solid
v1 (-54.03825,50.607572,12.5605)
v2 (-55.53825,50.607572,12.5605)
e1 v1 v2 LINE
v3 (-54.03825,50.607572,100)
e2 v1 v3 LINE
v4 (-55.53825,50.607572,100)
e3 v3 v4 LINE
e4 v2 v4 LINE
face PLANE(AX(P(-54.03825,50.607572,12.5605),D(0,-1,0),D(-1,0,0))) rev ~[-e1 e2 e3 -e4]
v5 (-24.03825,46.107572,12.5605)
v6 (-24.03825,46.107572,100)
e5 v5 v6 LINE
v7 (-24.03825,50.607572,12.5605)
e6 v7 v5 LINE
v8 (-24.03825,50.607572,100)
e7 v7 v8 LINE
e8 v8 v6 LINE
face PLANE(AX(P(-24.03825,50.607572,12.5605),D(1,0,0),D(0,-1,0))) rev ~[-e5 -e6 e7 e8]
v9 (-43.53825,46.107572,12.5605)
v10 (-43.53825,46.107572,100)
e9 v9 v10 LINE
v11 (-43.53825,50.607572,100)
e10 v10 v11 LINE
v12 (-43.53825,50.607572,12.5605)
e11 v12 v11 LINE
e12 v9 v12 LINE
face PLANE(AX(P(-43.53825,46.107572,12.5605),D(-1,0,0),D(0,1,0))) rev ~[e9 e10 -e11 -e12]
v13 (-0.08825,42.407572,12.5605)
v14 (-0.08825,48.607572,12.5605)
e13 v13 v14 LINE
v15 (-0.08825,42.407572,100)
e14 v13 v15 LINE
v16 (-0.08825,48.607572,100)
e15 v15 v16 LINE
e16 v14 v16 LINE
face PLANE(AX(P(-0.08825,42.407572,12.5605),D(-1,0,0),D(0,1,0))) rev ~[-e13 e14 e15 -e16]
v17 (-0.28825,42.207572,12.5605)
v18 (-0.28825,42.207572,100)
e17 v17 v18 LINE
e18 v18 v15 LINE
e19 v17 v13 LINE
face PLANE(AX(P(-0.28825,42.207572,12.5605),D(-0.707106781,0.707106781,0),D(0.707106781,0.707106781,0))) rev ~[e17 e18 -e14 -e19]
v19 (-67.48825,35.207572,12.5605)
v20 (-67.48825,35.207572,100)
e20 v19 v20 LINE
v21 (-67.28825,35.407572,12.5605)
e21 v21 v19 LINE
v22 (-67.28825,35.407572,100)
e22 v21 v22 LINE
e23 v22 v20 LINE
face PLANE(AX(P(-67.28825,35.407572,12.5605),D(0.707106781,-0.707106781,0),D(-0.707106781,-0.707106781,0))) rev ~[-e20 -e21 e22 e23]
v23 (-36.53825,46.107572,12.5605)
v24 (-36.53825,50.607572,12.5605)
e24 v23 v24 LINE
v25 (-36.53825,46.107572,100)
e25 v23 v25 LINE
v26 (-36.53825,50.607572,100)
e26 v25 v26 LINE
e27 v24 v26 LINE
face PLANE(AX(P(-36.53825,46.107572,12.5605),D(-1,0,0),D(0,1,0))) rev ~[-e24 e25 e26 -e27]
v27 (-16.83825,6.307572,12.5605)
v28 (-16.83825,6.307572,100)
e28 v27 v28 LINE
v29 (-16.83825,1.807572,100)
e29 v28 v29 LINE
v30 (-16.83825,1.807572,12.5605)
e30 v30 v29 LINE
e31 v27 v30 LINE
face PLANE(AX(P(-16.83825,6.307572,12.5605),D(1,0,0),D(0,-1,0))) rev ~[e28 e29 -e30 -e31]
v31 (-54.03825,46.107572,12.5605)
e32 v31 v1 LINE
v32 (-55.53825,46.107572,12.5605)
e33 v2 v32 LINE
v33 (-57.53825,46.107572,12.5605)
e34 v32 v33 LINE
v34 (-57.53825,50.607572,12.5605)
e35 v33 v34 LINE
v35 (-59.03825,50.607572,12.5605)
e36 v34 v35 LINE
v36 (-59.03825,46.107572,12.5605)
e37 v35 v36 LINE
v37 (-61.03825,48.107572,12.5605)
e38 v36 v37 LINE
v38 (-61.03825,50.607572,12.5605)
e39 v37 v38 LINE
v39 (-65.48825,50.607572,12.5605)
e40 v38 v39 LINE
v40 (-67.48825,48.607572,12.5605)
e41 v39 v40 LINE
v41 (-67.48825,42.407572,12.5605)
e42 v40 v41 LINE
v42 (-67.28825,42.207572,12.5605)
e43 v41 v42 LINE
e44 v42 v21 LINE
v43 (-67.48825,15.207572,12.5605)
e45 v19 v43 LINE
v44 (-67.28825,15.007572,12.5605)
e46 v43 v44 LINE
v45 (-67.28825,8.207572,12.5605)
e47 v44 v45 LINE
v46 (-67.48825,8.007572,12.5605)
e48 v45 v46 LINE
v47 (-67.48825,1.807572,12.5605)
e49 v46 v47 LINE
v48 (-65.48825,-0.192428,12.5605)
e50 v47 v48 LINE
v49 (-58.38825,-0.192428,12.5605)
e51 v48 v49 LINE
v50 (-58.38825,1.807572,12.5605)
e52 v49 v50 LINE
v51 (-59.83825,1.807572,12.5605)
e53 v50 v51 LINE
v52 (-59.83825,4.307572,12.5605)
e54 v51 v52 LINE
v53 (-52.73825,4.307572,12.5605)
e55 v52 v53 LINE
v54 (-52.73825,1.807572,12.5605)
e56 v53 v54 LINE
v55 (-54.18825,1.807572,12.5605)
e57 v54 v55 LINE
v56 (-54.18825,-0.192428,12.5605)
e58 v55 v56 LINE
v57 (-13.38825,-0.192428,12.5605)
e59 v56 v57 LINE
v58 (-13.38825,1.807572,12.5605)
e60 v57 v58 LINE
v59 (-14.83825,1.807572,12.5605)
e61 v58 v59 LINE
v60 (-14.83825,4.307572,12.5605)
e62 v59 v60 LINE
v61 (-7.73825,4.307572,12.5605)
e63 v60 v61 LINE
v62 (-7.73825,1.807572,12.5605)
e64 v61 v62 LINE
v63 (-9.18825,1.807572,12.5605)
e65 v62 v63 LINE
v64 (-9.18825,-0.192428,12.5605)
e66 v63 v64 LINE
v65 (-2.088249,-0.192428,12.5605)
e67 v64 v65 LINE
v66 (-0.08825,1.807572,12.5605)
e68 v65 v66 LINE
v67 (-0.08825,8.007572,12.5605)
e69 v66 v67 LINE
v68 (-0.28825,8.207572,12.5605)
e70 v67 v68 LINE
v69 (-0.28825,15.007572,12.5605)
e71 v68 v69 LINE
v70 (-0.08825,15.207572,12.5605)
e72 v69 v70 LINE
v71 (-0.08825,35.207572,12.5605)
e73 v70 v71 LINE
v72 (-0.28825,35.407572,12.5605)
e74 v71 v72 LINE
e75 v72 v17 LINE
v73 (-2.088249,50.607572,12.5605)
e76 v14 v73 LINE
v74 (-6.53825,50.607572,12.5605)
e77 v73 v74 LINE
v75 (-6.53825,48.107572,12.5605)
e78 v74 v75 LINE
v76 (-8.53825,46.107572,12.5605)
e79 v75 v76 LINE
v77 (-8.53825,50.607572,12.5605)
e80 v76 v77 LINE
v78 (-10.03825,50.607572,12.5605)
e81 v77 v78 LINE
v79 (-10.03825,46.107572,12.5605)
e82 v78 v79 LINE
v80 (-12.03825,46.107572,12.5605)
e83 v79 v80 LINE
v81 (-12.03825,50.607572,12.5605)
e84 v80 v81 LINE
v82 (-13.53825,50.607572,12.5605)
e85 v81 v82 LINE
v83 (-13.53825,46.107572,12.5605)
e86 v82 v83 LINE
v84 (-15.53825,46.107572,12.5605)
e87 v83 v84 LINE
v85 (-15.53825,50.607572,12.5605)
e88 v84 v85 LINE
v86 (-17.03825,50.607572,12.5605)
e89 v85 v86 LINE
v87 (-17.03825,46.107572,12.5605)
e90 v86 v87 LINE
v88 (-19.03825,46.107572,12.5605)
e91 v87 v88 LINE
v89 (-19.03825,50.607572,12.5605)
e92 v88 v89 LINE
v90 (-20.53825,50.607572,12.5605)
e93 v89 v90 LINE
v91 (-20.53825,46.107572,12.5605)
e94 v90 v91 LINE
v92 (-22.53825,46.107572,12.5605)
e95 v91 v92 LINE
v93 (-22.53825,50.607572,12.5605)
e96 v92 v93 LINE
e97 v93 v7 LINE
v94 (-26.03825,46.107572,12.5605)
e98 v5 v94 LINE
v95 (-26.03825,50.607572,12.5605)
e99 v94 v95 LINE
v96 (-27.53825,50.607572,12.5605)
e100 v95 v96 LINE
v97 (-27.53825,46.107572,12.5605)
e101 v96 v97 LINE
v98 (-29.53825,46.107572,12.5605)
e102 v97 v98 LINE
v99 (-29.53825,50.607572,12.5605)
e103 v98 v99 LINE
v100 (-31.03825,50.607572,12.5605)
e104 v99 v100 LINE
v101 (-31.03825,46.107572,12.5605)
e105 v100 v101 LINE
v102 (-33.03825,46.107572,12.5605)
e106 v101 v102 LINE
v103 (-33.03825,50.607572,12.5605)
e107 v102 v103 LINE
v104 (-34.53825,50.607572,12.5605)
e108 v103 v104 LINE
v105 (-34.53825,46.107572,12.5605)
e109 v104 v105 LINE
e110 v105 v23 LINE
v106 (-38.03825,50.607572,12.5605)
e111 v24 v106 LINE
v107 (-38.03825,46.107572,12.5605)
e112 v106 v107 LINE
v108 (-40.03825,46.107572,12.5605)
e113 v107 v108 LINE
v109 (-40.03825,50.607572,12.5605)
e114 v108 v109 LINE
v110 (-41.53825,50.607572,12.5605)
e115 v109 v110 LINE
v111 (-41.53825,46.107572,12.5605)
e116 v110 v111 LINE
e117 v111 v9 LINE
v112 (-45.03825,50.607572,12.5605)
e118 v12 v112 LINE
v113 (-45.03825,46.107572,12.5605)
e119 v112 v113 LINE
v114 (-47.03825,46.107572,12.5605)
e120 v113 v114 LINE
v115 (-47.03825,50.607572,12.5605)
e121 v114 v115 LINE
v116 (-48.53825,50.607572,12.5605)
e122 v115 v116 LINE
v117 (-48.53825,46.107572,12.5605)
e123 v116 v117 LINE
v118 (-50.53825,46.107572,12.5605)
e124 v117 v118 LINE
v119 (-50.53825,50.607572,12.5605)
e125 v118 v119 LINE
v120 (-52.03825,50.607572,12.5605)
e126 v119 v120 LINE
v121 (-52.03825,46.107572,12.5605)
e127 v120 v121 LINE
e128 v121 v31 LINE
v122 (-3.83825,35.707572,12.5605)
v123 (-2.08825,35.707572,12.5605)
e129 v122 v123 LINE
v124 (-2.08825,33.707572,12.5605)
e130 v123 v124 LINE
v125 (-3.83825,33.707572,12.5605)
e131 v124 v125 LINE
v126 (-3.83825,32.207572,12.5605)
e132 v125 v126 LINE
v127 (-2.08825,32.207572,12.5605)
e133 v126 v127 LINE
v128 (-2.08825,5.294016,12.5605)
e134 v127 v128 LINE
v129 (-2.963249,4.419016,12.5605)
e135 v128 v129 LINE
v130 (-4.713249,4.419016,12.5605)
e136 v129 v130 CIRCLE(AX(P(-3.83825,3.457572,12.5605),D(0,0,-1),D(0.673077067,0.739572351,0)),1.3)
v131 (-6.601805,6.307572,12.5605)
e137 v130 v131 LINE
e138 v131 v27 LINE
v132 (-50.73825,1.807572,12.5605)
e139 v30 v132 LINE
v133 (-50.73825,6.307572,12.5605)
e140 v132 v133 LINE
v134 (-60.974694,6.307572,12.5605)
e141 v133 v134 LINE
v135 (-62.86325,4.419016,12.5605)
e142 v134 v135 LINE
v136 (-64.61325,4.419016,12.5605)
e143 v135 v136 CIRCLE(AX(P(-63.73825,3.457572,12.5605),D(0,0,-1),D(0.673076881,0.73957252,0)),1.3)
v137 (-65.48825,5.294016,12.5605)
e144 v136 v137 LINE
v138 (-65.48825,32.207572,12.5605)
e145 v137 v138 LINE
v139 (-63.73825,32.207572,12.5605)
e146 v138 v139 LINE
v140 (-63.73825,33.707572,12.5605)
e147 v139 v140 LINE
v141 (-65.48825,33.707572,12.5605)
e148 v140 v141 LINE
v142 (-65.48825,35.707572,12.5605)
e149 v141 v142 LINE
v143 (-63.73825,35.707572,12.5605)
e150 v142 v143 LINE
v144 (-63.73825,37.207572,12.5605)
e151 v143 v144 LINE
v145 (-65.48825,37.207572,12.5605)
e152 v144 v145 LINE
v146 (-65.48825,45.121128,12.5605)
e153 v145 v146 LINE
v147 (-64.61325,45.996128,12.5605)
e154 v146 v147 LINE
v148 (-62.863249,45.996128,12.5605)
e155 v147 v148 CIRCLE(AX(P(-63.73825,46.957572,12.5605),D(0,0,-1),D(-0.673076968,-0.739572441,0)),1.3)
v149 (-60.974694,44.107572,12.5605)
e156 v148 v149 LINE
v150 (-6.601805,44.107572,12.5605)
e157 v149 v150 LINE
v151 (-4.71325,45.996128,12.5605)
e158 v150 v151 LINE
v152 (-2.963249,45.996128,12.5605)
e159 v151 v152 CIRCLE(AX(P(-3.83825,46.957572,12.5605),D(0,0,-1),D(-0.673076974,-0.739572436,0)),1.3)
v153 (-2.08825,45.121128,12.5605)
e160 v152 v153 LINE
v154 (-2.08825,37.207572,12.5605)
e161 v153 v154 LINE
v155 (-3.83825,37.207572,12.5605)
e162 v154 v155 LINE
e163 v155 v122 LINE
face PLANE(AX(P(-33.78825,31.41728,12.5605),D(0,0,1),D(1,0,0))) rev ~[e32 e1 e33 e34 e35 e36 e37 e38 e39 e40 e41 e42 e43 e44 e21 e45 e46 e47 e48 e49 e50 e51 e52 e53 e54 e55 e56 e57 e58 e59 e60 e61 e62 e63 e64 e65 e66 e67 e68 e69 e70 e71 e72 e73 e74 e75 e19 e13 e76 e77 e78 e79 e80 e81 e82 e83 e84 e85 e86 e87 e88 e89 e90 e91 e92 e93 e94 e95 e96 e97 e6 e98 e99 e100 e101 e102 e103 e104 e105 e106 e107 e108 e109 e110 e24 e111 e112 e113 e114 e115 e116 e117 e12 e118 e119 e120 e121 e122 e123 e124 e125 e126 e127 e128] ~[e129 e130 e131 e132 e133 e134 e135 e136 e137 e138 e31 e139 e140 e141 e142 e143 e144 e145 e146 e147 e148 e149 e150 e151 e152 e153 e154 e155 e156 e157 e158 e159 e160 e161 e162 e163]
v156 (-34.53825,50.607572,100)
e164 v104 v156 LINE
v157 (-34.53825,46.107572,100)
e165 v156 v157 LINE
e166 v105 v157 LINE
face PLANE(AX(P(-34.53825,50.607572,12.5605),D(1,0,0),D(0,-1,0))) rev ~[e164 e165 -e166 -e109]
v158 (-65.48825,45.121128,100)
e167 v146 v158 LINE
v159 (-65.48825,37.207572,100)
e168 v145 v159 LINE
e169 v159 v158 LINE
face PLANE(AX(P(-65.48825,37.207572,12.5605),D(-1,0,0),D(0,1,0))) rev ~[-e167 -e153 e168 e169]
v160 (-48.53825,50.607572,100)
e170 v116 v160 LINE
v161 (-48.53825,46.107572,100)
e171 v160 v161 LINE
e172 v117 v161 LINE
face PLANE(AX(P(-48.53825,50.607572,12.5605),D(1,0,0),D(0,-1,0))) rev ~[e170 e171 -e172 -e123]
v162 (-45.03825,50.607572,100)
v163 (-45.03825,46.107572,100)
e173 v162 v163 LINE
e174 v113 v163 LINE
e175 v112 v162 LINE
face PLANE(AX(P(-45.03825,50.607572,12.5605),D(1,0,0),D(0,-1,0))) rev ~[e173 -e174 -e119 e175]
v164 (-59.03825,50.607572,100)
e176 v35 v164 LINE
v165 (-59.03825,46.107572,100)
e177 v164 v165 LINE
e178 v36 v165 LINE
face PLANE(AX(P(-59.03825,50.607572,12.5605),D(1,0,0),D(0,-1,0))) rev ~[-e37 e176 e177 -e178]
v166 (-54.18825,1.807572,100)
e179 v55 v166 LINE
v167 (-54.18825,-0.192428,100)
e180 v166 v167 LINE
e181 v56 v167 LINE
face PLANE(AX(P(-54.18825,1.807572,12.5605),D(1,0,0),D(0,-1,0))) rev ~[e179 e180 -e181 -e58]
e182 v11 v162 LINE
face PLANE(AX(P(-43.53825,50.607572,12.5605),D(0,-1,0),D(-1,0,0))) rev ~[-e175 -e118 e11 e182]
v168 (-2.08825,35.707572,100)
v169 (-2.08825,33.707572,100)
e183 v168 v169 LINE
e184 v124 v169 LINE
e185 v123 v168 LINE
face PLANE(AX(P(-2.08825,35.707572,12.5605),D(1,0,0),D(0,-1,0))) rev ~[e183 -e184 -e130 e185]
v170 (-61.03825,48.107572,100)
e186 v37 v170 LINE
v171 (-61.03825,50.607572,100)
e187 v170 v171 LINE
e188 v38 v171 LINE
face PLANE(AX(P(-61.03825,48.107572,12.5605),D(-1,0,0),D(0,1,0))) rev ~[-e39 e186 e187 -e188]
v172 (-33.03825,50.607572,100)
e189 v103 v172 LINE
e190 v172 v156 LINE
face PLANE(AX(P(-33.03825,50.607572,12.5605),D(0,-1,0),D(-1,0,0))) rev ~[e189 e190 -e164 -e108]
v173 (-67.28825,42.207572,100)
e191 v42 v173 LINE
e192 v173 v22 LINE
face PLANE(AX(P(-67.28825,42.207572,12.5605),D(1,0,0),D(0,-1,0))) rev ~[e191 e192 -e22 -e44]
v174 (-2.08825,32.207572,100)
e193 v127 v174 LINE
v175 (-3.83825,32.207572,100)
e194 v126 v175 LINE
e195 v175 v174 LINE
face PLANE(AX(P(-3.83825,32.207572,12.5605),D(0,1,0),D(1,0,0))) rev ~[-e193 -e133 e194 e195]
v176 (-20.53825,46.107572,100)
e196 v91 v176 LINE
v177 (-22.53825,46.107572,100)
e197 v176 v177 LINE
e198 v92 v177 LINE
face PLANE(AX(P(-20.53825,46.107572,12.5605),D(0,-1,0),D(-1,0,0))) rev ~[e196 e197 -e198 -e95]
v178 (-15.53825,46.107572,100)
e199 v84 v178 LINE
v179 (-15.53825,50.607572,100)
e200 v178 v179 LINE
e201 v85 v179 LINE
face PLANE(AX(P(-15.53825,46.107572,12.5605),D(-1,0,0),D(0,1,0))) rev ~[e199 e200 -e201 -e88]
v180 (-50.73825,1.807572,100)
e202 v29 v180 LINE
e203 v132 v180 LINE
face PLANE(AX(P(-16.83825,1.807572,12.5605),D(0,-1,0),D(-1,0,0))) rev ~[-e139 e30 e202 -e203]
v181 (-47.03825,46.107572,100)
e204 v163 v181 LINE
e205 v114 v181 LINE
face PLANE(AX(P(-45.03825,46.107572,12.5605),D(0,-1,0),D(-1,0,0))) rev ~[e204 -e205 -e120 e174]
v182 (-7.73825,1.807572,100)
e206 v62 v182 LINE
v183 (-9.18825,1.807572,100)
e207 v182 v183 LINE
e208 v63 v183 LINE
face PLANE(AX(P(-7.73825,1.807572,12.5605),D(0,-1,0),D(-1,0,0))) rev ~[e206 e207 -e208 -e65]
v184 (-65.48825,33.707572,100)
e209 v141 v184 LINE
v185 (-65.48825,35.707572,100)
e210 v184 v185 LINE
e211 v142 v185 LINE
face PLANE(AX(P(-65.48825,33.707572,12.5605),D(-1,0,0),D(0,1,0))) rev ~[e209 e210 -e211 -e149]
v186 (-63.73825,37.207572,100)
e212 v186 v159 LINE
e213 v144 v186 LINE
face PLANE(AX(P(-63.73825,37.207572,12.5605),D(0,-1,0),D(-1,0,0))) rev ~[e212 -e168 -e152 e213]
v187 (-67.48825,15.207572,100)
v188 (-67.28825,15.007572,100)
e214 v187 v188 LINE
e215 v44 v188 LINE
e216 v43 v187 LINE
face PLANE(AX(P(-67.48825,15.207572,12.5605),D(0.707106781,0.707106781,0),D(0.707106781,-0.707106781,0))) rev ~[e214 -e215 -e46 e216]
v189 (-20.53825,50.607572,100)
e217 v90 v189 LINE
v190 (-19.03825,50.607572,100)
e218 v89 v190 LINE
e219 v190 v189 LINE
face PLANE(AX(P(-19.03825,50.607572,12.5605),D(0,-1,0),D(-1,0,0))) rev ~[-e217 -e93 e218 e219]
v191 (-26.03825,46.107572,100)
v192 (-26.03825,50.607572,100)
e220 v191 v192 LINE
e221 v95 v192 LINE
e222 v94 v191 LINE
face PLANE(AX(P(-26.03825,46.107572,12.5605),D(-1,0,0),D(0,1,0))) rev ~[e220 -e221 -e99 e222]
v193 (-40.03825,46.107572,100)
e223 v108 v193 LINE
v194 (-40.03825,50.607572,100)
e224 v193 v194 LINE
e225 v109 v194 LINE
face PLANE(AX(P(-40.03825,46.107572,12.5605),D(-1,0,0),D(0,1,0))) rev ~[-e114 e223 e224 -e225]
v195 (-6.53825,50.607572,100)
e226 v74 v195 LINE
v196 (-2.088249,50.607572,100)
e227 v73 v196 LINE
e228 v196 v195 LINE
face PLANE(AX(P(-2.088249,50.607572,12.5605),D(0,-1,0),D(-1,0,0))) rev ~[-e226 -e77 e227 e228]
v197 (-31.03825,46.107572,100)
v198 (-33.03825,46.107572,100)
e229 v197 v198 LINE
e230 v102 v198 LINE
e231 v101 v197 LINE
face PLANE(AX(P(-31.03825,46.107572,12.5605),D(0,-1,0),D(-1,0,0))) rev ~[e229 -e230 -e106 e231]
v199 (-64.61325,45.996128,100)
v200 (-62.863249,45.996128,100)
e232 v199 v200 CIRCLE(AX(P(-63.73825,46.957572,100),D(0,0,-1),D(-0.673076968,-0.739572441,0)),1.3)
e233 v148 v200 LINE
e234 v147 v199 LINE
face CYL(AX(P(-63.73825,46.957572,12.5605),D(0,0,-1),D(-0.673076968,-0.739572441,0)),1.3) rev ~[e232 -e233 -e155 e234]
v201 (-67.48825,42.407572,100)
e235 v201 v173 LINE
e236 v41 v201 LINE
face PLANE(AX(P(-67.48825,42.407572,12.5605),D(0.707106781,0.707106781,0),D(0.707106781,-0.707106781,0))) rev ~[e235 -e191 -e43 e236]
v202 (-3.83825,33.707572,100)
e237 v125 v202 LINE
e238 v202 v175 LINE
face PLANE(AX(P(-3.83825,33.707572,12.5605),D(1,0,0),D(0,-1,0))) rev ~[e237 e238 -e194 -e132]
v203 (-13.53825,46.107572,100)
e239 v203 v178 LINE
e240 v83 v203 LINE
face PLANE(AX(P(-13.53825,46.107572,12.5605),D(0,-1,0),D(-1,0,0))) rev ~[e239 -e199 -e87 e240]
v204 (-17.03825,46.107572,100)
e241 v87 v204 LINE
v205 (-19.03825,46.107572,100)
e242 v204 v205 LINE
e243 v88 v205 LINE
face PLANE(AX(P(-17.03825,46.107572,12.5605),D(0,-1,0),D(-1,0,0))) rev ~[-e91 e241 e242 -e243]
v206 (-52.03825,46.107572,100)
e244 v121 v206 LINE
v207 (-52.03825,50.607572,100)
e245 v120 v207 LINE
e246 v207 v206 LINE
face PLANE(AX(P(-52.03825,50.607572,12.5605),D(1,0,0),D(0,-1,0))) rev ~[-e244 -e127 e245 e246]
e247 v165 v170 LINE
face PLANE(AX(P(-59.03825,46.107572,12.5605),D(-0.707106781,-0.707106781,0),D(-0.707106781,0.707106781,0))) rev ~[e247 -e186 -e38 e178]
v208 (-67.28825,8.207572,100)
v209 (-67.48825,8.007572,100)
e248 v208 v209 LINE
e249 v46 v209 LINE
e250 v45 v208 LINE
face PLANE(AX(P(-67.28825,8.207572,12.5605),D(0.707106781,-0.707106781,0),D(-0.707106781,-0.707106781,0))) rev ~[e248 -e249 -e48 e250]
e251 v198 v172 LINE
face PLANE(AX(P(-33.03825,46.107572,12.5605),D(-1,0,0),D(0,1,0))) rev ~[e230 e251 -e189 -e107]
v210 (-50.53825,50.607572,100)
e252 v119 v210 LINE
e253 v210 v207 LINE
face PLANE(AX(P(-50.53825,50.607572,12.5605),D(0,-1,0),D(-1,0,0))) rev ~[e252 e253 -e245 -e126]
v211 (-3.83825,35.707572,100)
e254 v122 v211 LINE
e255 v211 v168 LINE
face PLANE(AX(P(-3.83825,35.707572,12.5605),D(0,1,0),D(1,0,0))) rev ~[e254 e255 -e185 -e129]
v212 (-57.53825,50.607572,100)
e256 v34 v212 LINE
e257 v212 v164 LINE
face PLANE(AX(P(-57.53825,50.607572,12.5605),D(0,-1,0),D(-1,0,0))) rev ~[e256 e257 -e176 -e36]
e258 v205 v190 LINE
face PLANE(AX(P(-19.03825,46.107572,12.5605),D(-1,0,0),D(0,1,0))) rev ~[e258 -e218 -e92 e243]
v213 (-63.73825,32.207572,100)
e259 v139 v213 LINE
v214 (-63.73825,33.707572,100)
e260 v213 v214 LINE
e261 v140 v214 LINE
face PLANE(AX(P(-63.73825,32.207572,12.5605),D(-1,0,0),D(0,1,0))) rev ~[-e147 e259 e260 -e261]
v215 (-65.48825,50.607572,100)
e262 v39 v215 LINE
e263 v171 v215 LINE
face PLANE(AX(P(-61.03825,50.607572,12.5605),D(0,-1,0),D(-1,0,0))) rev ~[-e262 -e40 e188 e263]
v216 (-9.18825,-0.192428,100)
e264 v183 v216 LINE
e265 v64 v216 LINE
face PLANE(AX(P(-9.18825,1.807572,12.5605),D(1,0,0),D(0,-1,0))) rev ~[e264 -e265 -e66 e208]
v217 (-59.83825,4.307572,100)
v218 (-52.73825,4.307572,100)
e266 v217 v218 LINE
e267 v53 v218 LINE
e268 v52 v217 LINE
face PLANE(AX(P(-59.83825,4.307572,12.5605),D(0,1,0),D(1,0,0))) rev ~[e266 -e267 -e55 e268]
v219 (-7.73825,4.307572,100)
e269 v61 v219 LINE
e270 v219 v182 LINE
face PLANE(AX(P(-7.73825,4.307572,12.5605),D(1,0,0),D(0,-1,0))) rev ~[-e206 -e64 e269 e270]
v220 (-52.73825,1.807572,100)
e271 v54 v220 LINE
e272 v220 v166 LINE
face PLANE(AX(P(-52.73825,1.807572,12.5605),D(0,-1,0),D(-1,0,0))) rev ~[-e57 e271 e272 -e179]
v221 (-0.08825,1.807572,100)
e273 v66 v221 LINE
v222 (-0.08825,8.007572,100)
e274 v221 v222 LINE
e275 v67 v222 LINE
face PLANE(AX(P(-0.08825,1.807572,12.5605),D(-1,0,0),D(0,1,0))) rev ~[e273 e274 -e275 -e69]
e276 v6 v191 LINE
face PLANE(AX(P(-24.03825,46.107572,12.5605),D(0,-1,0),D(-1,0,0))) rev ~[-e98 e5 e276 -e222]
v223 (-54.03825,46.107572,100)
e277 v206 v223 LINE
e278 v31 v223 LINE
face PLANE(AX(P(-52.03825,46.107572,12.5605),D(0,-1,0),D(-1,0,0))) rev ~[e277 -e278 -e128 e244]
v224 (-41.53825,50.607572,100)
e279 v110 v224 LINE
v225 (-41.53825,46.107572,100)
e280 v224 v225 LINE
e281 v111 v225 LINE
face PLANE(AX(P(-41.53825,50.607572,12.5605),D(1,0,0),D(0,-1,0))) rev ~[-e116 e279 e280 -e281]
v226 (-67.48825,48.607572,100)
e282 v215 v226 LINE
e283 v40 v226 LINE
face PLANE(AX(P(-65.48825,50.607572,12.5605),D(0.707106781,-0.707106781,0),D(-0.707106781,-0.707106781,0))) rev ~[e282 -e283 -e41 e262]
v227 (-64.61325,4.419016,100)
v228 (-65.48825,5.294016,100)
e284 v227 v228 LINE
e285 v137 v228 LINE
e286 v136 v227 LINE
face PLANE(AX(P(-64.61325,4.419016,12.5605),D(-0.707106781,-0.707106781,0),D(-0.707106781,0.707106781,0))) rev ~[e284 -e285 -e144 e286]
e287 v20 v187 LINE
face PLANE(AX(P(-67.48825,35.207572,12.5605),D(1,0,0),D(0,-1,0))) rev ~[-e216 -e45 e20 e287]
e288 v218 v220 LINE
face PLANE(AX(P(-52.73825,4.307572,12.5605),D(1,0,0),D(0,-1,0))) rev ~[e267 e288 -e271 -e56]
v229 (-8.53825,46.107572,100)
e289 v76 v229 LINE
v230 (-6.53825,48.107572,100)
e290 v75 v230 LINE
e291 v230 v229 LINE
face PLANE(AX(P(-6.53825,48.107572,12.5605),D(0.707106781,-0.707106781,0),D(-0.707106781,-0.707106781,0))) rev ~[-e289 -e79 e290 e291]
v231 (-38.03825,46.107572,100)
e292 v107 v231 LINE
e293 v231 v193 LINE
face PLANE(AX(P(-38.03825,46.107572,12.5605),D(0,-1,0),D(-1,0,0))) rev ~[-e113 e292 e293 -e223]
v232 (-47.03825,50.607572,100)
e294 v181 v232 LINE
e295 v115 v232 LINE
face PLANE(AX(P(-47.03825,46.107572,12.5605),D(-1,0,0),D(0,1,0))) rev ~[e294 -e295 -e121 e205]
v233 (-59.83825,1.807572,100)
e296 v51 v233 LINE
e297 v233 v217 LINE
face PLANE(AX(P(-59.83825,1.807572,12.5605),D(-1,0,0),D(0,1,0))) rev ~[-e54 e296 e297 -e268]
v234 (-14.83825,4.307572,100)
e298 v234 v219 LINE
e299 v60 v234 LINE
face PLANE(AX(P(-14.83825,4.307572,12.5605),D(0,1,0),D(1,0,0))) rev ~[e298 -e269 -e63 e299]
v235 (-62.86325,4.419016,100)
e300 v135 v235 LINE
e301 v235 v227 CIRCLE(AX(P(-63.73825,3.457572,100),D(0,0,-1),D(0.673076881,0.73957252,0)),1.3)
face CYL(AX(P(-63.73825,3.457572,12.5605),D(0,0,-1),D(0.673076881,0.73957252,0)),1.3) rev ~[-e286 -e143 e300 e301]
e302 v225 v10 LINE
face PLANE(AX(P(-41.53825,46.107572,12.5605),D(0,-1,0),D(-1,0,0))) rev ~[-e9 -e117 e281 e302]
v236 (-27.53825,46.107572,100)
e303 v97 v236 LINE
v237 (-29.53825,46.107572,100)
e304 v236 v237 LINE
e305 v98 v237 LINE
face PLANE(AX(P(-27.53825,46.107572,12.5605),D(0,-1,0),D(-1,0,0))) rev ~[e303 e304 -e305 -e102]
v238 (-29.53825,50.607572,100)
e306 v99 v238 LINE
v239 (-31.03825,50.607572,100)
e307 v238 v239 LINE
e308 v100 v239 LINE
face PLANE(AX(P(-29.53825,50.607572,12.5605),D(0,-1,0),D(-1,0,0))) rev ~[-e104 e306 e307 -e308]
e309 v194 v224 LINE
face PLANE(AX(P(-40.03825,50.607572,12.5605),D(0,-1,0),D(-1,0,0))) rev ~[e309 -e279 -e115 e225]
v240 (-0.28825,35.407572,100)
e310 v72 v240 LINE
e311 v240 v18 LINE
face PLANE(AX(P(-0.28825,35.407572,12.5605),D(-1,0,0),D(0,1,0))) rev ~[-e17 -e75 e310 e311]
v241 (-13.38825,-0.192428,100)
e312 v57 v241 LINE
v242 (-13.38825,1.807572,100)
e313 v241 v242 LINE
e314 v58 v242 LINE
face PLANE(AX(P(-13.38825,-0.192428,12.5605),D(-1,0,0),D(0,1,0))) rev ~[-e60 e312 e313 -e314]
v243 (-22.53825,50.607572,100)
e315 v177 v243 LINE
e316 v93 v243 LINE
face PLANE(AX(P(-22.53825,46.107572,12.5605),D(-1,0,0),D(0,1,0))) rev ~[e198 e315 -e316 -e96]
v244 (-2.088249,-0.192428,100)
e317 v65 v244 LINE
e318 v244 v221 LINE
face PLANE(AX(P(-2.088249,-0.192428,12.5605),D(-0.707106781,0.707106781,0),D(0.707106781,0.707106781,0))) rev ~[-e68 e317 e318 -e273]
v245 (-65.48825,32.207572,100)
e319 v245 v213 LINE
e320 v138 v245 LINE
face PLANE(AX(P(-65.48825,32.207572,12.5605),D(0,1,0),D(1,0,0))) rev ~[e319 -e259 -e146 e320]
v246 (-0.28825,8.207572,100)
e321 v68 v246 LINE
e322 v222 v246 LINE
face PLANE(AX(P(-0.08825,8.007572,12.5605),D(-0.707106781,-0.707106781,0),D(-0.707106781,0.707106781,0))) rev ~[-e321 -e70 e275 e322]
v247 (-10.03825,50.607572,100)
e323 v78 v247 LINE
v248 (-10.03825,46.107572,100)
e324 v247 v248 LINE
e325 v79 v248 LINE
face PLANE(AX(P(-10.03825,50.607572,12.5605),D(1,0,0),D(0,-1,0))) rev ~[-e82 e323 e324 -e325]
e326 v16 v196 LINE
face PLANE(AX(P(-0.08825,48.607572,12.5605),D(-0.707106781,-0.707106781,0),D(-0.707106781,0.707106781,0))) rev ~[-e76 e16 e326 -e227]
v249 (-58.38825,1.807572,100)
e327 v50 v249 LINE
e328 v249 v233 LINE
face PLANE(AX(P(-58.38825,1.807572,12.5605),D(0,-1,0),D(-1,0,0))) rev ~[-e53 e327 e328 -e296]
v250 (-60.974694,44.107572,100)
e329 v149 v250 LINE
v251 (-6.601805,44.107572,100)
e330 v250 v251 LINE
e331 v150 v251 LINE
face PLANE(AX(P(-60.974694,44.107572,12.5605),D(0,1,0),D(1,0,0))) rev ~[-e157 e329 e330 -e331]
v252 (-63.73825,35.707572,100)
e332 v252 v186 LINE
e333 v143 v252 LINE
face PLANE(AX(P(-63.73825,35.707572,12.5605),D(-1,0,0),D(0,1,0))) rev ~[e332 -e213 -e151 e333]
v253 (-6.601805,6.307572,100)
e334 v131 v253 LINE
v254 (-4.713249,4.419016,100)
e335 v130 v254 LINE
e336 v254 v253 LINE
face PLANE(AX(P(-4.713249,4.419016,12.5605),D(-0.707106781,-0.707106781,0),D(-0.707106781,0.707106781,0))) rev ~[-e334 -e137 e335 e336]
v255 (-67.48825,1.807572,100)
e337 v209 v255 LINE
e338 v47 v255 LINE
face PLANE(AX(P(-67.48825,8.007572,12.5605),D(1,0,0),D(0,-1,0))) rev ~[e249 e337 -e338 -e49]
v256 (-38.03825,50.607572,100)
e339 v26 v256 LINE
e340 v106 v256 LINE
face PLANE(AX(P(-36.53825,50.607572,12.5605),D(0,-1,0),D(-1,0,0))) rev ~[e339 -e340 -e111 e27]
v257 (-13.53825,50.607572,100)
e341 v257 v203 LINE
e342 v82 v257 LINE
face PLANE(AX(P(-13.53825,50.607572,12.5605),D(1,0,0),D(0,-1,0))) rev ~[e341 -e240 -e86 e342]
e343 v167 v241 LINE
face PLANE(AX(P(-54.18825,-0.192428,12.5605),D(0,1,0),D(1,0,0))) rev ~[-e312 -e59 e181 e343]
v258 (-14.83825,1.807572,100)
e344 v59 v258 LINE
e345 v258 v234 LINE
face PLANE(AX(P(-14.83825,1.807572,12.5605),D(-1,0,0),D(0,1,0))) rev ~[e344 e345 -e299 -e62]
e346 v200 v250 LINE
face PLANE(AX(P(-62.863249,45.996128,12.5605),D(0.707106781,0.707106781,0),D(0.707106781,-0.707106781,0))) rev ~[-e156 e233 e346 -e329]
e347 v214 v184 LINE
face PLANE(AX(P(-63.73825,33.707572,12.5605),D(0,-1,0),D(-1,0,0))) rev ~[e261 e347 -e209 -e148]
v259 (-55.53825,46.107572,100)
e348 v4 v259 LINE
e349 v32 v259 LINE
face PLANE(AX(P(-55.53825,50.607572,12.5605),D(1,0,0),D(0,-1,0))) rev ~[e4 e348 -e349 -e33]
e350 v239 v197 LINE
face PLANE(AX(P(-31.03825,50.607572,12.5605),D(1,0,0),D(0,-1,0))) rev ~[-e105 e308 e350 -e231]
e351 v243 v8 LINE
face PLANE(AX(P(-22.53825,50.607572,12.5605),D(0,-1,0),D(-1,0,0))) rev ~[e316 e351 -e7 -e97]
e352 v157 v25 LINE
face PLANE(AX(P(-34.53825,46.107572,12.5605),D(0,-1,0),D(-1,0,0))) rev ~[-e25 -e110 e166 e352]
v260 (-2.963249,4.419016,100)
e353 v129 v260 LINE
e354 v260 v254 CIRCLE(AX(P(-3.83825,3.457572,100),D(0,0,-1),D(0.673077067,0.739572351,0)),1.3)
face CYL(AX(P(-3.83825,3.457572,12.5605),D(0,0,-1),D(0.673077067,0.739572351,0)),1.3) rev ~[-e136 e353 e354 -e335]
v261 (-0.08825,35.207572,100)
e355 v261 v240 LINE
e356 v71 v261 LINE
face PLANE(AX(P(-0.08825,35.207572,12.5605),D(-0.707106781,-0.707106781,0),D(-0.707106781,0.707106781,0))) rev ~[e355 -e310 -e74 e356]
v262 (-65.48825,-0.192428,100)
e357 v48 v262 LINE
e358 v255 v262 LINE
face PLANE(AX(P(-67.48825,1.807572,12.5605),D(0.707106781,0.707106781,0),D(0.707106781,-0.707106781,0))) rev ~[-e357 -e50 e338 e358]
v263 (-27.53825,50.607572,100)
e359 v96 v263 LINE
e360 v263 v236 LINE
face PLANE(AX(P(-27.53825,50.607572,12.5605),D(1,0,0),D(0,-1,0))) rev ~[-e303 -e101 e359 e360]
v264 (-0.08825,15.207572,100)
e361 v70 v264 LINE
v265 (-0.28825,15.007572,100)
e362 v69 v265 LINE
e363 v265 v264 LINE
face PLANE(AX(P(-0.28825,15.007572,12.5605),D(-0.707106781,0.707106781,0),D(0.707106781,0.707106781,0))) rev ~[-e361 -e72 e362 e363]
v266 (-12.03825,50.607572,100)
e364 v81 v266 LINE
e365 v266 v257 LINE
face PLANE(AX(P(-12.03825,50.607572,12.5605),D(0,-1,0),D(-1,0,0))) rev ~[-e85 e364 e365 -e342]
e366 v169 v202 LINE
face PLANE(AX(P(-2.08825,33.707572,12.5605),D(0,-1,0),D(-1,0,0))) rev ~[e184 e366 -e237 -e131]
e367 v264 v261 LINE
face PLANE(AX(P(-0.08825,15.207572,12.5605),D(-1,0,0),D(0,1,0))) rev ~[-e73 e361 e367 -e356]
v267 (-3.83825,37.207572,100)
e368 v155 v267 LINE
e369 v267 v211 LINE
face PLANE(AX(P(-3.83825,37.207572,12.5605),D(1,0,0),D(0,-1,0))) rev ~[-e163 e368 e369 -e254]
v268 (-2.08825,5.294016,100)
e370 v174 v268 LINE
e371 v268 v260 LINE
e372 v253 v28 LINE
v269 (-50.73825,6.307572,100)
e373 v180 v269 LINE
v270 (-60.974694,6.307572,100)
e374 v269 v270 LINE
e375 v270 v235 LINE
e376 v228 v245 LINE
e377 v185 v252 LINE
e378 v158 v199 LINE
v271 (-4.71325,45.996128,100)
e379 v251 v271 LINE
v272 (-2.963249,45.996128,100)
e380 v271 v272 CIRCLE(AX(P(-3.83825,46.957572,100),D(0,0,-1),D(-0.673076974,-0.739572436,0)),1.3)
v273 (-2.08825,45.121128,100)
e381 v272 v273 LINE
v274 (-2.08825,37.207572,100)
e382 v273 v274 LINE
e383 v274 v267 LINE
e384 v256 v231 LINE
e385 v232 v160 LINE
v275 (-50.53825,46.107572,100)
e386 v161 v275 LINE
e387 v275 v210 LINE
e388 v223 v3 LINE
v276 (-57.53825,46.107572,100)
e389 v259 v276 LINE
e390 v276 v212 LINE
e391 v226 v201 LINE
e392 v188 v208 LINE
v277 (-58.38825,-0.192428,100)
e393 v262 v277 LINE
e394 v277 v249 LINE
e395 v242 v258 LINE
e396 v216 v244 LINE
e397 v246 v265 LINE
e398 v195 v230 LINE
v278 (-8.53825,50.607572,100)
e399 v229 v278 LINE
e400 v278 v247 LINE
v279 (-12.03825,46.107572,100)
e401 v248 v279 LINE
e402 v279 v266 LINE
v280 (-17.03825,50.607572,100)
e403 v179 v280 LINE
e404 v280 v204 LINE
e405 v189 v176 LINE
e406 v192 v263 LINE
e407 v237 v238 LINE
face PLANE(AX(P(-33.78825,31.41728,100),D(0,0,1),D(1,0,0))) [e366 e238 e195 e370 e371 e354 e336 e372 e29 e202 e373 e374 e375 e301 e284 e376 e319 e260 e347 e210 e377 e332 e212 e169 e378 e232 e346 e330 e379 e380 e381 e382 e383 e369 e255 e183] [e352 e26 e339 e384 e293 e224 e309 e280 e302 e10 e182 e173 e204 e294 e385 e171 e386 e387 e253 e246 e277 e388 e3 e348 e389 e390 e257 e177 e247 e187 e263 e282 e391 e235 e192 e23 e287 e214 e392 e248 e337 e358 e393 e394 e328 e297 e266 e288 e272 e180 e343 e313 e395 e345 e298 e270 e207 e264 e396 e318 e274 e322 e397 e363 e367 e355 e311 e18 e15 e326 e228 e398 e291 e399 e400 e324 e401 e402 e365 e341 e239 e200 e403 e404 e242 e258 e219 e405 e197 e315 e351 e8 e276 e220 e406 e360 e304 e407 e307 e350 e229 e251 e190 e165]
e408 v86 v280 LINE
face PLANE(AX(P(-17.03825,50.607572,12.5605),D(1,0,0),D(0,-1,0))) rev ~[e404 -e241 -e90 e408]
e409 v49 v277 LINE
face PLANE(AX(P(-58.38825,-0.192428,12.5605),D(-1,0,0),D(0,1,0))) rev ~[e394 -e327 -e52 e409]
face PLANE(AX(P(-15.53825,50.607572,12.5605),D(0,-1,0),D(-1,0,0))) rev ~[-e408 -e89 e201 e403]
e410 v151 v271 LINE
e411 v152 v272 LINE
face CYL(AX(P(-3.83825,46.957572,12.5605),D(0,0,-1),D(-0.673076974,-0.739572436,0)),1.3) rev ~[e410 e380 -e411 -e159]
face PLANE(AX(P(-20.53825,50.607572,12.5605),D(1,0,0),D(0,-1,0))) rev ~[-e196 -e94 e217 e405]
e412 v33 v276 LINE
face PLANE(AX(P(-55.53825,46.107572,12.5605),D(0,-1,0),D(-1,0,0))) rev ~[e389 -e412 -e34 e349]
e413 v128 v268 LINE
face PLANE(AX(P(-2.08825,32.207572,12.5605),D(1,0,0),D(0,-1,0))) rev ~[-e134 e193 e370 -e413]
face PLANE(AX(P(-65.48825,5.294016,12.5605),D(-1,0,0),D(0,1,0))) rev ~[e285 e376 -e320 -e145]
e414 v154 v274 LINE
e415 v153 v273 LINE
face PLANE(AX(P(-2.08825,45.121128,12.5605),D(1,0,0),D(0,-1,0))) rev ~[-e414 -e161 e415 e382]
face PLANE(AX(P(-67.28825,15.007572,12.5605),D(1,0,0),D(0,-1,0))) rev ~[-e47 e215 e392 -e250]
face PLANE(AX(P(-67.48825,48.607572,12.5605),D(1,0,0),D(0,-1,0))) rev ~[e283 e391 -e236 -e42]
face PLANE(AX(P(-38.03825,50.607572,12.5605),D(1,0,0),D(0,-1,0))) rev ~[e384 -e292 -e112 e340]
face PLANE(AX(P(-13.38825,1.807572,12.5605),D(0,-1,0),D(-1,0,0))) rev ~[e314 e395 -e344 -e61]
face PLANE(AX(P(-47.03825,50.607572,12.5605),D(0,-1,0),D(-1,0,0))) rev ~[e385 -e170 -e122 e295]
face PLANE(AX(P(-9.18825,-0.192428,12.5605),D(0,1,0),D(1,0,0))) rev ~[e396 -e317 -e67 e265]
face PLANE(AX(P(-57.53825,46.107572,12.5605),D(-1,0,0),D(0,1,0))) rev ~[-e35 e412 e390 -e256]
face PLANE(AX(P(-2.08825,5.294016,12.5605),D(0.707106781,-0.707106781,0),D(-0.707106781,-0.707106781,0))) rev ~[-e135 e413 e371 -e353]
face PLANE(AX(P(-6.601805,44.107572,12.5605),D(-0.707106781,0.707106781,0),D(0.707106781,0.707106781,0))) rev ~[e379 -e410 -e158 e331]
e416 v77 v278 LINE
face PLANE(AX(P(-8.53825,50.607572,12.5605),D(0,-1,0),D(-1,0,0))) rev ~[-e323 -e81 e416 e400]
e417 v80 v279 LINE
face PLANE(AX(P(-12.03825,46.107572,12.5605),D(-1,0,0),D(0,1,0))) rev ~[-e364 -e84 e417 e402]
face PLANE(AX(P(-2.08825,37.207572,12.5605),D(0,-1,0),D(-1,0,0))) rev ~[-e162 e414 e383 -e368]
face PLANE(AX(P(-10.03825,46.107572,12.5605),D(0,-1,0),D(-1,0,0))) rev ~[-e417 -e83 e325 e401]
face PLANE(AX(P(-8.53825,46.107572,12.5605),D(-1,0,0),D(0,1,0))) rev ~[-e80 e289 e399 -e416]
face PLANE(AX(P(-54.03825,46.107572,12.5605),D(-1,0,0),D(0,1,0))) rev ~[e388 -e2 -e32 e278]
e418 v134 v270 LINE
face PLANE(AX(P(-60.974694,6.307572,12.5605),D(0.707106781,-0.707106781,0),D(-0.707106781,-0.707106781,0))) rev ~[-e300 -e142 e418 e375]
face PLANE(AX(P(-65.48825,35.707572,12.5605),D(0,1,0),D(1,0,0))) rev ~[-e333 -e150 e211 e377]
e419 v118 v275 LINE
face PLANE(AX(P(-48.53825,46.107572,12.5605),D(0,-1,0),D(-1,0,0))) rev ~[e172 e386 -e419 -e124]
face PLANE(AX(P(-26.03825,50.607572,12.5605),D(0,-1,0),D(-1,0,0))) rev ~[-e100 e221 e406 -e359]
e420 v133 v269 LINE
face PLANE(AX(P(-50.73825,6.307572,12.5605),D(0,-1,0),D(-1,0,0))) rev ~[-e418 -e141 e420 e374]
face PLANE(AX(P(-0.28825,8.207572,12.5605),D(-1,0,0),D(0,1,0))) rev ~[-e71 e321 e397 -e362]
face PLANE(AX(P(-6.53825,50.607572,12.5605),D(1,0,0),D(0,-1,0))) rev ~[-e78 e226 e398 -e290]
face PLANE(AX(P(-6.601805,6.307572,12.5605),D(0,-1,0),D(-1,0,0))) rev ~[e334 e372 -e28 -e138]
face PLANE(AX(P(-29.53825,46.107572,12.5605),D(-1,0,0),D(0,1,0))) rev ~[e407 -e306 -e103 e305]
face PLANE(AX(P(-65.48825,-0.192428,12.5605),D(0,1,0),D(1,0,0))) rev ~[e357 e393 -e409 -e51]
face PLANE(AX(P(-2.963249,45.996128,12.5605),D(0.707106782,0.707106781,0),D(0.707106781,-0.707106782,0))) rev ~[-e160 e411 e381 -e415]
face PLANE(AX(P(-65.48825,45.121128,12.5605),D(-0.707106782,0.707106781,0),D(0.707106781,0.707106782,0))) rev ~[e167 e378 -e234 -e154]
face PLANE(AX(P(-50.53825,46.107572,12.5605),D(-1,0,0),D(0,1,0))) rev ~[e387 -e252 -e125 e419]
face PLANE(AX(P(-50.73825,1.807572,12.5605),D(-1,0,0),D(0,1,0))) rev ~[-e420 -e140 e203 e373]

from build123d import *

# Parameters (mm, degrees)
BOSS_EXTRUDE1_DEPTH = 87.4395


with BuildPart() as part:
    # Sketch1 → Boss-Extrude1 (new body)
    with BuildSketch(Plane.XY.offset(12.5605)):
        Polygon((-54.188249545, 1.80757214), (-54.188249545, -0.19242786), (-13.388249545, -0.19242786), (-13.388249545, 1.80757214), (-14.838249545, 1.80757214), (-14.838249545, 4.30757214), (-7.738249545, 4.30757214), (-7.738249545, 1.80757214), (-9.188249545, 1.80757214), (-9.188249545, -0.19242786), (-2.088249216, -0.19242786), (-0.088249545, 1.807571812), (-0.088249545, 8.007572024), (-0.288249545, 8.207572024), (-0.288249545, 15.00757214), (-0.088249545, 15.20757214), (-0.088249545, 35.20757214), (-0.288249545, 35.40757214), (-0.288249545, 42.207572024), (-0.088249545, 42.407572024), (-0.088249545, 48.607572237), (-2.088249448, 50.60757214), (-6.538249545, 50.60757214), (-6.538249545, 48.10757214), (-8.538249545, 46.10757214), (-8.538249545, 50.60757214), (-10.038249545, 50.60757214), (-10.038249545, 46.10757214), (-12.038249545, 46.10757214), (-12.038249545, 50.60757214), (-13.538249545, 50.60757214), (-13.538249545, 46.10757214), (-15.538249545, 46.10757214), (-15.538249545, 50.60757214), (-17.038249545, 50.60757214), (-17.038249545, 46.10757214), (-19.038249545, 46.10757214), (-19.038249545, 50.60757214), (-20.538249545, 50.60757214), (-20.538249545, 46.10757214), (-22.538249545, 46.10757214), (-22.538249545, 50.60757214), (-24.038249545, 50.60757214), (-24.038249545, 46.10757214), (-26.038249545, 46.10757214), (-26.038249545, 50.60757214), (-27.538249545, 50.60757214), (-27.538249545, 46.10757214), (-29.538249545, 46.10757214), (-29.538249545, 50.60757214), (-31.038249545, 50.60757214), (-31.038249545, 46.10757214), (-33.038249545, 46.10757214), (-33.038249545, 50.60757214), (-34.538249545, 50.60757214), (-34.538249545, 46.10757214), (-36.538249545, 46.10757214), (-36.538249545, 50.60757214), (-38.038249545, 50.60757214), (-38.038249545, 46.10757214), (-40.038249545, 46.10757214), (-40.038249545, 50.60757214), (-41.538249545, 50.60757214), (-41.538249545, 46.10757214), (-43.538249545, 46.10757214), (-43.538249545, 50.60757214), (-45.038249545, 50.60757214), (-45.038249545, 46.10757214), (-47.038249545, 46.10757214), (-47.038249545, 50.60757214), (-48.538249545, 50.60757214), (-48.538249545, 46.10757214), (-50.538249545, 46.10757214), (-50.538249545, 50.60757214), (-52.038249545, 50.60757214), (-52.038249545, 46.10757214), (-54.038249545, 46.10757214), (-54.038249545, 50.60757214), (-55.538249545, 50.60757214), (-55.538249545, 46.10757214), (-57.538249545, 46.10757214), (-57.538249545, 50.60757214), (-59.038249545, 50.60757214), (-59.038249545, 46.10757214), (-61.038249545, 48.10757214), (-61.038249545, 50.60757214), (-65.488249642, 50.60757214), (-67.488249545, 48.607572237), (-67.488249545, 42.407572024), (-67.288249545, 42.207572024), (-67.288249545, 35.40757214), (-67.488249545, 35.20757214), (-67.488249545, 15.20757214), (-67.288249545, 15.00757214), (-67.288249545, 8.207572024), (-67.488249545, 8.007572024), (-67.488249545, 1.807571812), (-65.488249874, -0.19242786), (-58.388249545, -0.19242786), (-58.388249545, 1.80757214), (-59.838249545, 1.80757214), (-59.838249545, 4.30757214), (-52.738249545, 4.30757214), (-52.738249545, 1.80757214), align=None)
        with BuildLine():
            Line((-2.088249545, 32.20757214), (-2.088249545, 5.294016009))
            Line((-2.088249545, 5.294016009), (-2.963249358, 4.419016196))
            ThreePointArc((-2.963249358, 4.419016196), (-3.838249708, 2.15757214), (-4.713249491, 4.419016416))
            Line((-4.713249491, 4.419016416), (-6.601805216, 6.30757214))
            Line((-6.601805216, 6.30757214), (-16.838249545, 6.30757214))
            Line((-16.838249545, 6.30757214), (-16.838249545, 1.807572024))
            Line((-16.838249545, 1.807572024), (-50.738249545, 1.807572024))
            Line((-50.738249545, 1.807572024), (-50.738249545, 6.30757214))
            Line((-50.738249545, 6.30757214), (-60.974693874, 6.30757214))
            Line((-60.974693874, 6.30757214), (-62.863249599, 4.419016416))
            ThreePointArc((-62.863249599, 4.419016416), (-63.738249382, 2.15757214), (-64.613249732, 4.419016196))
            Line((-64.613249732, 4.419016196), (-65.488249545, 5.294016009))
            Line((-65.488249545, 5.294016009), (-65.488249545, 32.20757214))
            Line((-65.488249545, 32.20757214), (-63.738249545, 32.20757214))
            Line((-63.738249545, 32.20757214), (-63.738249545, 33.70757214))
            Line((-63.738249545, 33.70757214), (-65.488249545, 33.70757214))
            Line((-65.488249545, 33.70757214), (-65.488249545, 35.70757214))
            Line((-65.488249545, 35.70757214), (-63.738249545, 35.70757214))
            Line((-63.738249545, 35.70757214), (-63.738249545, 37.20757214))
            Line((-63.738249545, 37.20757214), (-65.488249545, 37.20757214))
            Line((-65.488249545, 37.20757214), (-65.488249545, 45.121128024))
            Line((-65.488249545, 45.121128024), (-64.613249603, 45.996127967))
            ThreePointArc((-64.613249603, 45.996127967), (-63.738249551, 48.25757214), (-62.863249479, 45.996127974))
            Line((-62.863249479, 45.996127974), (-60.974693645, 44.10757214))
            Line((-60.974693645, 44.10757214), (-6.601805445, 44.10757214))
            Line((-6.601805445, 44.10757214), (-4.713249611, 45.996127974))
            ThreePointArc((-4.713249611, 45.996127974), (-3.838249539, 48.25757214), (-2.963249487, 45.996127967))
            Line((-2.963249487, 45.996127967), (-2.088249545, 45.121128024))
            Line((-2.088249545, 45.121128024), (-2.088249545, 37.20757214))
            Line((-2.088249545, 37.20757214), (-3.838249545, 37.20757214))
            Line((-3.838249545, 37.20757214), (-3.838249545, 35.70757214))
            Line((-3.838249545, 35.70757214), (-2.088249545, 35.70757214))
            Line((-2.088249545, 35.70757214), (-2.088249545, 33.70757214))
            Line((-2.088249545, 33.70757214), (-3.838249545, 33.70757214))
            Line((-3.838249545, 33.70757214), (-3.838249545, 32.20757214))
            Line((-3.838249545, 32.20757214), (-2.088249545, 32.20757214))
        make_face(mode=Mode.SUBTRACT)
    extrude(amount=BOSS_EXTRUDE1_DEPTH)


solid = part.part
